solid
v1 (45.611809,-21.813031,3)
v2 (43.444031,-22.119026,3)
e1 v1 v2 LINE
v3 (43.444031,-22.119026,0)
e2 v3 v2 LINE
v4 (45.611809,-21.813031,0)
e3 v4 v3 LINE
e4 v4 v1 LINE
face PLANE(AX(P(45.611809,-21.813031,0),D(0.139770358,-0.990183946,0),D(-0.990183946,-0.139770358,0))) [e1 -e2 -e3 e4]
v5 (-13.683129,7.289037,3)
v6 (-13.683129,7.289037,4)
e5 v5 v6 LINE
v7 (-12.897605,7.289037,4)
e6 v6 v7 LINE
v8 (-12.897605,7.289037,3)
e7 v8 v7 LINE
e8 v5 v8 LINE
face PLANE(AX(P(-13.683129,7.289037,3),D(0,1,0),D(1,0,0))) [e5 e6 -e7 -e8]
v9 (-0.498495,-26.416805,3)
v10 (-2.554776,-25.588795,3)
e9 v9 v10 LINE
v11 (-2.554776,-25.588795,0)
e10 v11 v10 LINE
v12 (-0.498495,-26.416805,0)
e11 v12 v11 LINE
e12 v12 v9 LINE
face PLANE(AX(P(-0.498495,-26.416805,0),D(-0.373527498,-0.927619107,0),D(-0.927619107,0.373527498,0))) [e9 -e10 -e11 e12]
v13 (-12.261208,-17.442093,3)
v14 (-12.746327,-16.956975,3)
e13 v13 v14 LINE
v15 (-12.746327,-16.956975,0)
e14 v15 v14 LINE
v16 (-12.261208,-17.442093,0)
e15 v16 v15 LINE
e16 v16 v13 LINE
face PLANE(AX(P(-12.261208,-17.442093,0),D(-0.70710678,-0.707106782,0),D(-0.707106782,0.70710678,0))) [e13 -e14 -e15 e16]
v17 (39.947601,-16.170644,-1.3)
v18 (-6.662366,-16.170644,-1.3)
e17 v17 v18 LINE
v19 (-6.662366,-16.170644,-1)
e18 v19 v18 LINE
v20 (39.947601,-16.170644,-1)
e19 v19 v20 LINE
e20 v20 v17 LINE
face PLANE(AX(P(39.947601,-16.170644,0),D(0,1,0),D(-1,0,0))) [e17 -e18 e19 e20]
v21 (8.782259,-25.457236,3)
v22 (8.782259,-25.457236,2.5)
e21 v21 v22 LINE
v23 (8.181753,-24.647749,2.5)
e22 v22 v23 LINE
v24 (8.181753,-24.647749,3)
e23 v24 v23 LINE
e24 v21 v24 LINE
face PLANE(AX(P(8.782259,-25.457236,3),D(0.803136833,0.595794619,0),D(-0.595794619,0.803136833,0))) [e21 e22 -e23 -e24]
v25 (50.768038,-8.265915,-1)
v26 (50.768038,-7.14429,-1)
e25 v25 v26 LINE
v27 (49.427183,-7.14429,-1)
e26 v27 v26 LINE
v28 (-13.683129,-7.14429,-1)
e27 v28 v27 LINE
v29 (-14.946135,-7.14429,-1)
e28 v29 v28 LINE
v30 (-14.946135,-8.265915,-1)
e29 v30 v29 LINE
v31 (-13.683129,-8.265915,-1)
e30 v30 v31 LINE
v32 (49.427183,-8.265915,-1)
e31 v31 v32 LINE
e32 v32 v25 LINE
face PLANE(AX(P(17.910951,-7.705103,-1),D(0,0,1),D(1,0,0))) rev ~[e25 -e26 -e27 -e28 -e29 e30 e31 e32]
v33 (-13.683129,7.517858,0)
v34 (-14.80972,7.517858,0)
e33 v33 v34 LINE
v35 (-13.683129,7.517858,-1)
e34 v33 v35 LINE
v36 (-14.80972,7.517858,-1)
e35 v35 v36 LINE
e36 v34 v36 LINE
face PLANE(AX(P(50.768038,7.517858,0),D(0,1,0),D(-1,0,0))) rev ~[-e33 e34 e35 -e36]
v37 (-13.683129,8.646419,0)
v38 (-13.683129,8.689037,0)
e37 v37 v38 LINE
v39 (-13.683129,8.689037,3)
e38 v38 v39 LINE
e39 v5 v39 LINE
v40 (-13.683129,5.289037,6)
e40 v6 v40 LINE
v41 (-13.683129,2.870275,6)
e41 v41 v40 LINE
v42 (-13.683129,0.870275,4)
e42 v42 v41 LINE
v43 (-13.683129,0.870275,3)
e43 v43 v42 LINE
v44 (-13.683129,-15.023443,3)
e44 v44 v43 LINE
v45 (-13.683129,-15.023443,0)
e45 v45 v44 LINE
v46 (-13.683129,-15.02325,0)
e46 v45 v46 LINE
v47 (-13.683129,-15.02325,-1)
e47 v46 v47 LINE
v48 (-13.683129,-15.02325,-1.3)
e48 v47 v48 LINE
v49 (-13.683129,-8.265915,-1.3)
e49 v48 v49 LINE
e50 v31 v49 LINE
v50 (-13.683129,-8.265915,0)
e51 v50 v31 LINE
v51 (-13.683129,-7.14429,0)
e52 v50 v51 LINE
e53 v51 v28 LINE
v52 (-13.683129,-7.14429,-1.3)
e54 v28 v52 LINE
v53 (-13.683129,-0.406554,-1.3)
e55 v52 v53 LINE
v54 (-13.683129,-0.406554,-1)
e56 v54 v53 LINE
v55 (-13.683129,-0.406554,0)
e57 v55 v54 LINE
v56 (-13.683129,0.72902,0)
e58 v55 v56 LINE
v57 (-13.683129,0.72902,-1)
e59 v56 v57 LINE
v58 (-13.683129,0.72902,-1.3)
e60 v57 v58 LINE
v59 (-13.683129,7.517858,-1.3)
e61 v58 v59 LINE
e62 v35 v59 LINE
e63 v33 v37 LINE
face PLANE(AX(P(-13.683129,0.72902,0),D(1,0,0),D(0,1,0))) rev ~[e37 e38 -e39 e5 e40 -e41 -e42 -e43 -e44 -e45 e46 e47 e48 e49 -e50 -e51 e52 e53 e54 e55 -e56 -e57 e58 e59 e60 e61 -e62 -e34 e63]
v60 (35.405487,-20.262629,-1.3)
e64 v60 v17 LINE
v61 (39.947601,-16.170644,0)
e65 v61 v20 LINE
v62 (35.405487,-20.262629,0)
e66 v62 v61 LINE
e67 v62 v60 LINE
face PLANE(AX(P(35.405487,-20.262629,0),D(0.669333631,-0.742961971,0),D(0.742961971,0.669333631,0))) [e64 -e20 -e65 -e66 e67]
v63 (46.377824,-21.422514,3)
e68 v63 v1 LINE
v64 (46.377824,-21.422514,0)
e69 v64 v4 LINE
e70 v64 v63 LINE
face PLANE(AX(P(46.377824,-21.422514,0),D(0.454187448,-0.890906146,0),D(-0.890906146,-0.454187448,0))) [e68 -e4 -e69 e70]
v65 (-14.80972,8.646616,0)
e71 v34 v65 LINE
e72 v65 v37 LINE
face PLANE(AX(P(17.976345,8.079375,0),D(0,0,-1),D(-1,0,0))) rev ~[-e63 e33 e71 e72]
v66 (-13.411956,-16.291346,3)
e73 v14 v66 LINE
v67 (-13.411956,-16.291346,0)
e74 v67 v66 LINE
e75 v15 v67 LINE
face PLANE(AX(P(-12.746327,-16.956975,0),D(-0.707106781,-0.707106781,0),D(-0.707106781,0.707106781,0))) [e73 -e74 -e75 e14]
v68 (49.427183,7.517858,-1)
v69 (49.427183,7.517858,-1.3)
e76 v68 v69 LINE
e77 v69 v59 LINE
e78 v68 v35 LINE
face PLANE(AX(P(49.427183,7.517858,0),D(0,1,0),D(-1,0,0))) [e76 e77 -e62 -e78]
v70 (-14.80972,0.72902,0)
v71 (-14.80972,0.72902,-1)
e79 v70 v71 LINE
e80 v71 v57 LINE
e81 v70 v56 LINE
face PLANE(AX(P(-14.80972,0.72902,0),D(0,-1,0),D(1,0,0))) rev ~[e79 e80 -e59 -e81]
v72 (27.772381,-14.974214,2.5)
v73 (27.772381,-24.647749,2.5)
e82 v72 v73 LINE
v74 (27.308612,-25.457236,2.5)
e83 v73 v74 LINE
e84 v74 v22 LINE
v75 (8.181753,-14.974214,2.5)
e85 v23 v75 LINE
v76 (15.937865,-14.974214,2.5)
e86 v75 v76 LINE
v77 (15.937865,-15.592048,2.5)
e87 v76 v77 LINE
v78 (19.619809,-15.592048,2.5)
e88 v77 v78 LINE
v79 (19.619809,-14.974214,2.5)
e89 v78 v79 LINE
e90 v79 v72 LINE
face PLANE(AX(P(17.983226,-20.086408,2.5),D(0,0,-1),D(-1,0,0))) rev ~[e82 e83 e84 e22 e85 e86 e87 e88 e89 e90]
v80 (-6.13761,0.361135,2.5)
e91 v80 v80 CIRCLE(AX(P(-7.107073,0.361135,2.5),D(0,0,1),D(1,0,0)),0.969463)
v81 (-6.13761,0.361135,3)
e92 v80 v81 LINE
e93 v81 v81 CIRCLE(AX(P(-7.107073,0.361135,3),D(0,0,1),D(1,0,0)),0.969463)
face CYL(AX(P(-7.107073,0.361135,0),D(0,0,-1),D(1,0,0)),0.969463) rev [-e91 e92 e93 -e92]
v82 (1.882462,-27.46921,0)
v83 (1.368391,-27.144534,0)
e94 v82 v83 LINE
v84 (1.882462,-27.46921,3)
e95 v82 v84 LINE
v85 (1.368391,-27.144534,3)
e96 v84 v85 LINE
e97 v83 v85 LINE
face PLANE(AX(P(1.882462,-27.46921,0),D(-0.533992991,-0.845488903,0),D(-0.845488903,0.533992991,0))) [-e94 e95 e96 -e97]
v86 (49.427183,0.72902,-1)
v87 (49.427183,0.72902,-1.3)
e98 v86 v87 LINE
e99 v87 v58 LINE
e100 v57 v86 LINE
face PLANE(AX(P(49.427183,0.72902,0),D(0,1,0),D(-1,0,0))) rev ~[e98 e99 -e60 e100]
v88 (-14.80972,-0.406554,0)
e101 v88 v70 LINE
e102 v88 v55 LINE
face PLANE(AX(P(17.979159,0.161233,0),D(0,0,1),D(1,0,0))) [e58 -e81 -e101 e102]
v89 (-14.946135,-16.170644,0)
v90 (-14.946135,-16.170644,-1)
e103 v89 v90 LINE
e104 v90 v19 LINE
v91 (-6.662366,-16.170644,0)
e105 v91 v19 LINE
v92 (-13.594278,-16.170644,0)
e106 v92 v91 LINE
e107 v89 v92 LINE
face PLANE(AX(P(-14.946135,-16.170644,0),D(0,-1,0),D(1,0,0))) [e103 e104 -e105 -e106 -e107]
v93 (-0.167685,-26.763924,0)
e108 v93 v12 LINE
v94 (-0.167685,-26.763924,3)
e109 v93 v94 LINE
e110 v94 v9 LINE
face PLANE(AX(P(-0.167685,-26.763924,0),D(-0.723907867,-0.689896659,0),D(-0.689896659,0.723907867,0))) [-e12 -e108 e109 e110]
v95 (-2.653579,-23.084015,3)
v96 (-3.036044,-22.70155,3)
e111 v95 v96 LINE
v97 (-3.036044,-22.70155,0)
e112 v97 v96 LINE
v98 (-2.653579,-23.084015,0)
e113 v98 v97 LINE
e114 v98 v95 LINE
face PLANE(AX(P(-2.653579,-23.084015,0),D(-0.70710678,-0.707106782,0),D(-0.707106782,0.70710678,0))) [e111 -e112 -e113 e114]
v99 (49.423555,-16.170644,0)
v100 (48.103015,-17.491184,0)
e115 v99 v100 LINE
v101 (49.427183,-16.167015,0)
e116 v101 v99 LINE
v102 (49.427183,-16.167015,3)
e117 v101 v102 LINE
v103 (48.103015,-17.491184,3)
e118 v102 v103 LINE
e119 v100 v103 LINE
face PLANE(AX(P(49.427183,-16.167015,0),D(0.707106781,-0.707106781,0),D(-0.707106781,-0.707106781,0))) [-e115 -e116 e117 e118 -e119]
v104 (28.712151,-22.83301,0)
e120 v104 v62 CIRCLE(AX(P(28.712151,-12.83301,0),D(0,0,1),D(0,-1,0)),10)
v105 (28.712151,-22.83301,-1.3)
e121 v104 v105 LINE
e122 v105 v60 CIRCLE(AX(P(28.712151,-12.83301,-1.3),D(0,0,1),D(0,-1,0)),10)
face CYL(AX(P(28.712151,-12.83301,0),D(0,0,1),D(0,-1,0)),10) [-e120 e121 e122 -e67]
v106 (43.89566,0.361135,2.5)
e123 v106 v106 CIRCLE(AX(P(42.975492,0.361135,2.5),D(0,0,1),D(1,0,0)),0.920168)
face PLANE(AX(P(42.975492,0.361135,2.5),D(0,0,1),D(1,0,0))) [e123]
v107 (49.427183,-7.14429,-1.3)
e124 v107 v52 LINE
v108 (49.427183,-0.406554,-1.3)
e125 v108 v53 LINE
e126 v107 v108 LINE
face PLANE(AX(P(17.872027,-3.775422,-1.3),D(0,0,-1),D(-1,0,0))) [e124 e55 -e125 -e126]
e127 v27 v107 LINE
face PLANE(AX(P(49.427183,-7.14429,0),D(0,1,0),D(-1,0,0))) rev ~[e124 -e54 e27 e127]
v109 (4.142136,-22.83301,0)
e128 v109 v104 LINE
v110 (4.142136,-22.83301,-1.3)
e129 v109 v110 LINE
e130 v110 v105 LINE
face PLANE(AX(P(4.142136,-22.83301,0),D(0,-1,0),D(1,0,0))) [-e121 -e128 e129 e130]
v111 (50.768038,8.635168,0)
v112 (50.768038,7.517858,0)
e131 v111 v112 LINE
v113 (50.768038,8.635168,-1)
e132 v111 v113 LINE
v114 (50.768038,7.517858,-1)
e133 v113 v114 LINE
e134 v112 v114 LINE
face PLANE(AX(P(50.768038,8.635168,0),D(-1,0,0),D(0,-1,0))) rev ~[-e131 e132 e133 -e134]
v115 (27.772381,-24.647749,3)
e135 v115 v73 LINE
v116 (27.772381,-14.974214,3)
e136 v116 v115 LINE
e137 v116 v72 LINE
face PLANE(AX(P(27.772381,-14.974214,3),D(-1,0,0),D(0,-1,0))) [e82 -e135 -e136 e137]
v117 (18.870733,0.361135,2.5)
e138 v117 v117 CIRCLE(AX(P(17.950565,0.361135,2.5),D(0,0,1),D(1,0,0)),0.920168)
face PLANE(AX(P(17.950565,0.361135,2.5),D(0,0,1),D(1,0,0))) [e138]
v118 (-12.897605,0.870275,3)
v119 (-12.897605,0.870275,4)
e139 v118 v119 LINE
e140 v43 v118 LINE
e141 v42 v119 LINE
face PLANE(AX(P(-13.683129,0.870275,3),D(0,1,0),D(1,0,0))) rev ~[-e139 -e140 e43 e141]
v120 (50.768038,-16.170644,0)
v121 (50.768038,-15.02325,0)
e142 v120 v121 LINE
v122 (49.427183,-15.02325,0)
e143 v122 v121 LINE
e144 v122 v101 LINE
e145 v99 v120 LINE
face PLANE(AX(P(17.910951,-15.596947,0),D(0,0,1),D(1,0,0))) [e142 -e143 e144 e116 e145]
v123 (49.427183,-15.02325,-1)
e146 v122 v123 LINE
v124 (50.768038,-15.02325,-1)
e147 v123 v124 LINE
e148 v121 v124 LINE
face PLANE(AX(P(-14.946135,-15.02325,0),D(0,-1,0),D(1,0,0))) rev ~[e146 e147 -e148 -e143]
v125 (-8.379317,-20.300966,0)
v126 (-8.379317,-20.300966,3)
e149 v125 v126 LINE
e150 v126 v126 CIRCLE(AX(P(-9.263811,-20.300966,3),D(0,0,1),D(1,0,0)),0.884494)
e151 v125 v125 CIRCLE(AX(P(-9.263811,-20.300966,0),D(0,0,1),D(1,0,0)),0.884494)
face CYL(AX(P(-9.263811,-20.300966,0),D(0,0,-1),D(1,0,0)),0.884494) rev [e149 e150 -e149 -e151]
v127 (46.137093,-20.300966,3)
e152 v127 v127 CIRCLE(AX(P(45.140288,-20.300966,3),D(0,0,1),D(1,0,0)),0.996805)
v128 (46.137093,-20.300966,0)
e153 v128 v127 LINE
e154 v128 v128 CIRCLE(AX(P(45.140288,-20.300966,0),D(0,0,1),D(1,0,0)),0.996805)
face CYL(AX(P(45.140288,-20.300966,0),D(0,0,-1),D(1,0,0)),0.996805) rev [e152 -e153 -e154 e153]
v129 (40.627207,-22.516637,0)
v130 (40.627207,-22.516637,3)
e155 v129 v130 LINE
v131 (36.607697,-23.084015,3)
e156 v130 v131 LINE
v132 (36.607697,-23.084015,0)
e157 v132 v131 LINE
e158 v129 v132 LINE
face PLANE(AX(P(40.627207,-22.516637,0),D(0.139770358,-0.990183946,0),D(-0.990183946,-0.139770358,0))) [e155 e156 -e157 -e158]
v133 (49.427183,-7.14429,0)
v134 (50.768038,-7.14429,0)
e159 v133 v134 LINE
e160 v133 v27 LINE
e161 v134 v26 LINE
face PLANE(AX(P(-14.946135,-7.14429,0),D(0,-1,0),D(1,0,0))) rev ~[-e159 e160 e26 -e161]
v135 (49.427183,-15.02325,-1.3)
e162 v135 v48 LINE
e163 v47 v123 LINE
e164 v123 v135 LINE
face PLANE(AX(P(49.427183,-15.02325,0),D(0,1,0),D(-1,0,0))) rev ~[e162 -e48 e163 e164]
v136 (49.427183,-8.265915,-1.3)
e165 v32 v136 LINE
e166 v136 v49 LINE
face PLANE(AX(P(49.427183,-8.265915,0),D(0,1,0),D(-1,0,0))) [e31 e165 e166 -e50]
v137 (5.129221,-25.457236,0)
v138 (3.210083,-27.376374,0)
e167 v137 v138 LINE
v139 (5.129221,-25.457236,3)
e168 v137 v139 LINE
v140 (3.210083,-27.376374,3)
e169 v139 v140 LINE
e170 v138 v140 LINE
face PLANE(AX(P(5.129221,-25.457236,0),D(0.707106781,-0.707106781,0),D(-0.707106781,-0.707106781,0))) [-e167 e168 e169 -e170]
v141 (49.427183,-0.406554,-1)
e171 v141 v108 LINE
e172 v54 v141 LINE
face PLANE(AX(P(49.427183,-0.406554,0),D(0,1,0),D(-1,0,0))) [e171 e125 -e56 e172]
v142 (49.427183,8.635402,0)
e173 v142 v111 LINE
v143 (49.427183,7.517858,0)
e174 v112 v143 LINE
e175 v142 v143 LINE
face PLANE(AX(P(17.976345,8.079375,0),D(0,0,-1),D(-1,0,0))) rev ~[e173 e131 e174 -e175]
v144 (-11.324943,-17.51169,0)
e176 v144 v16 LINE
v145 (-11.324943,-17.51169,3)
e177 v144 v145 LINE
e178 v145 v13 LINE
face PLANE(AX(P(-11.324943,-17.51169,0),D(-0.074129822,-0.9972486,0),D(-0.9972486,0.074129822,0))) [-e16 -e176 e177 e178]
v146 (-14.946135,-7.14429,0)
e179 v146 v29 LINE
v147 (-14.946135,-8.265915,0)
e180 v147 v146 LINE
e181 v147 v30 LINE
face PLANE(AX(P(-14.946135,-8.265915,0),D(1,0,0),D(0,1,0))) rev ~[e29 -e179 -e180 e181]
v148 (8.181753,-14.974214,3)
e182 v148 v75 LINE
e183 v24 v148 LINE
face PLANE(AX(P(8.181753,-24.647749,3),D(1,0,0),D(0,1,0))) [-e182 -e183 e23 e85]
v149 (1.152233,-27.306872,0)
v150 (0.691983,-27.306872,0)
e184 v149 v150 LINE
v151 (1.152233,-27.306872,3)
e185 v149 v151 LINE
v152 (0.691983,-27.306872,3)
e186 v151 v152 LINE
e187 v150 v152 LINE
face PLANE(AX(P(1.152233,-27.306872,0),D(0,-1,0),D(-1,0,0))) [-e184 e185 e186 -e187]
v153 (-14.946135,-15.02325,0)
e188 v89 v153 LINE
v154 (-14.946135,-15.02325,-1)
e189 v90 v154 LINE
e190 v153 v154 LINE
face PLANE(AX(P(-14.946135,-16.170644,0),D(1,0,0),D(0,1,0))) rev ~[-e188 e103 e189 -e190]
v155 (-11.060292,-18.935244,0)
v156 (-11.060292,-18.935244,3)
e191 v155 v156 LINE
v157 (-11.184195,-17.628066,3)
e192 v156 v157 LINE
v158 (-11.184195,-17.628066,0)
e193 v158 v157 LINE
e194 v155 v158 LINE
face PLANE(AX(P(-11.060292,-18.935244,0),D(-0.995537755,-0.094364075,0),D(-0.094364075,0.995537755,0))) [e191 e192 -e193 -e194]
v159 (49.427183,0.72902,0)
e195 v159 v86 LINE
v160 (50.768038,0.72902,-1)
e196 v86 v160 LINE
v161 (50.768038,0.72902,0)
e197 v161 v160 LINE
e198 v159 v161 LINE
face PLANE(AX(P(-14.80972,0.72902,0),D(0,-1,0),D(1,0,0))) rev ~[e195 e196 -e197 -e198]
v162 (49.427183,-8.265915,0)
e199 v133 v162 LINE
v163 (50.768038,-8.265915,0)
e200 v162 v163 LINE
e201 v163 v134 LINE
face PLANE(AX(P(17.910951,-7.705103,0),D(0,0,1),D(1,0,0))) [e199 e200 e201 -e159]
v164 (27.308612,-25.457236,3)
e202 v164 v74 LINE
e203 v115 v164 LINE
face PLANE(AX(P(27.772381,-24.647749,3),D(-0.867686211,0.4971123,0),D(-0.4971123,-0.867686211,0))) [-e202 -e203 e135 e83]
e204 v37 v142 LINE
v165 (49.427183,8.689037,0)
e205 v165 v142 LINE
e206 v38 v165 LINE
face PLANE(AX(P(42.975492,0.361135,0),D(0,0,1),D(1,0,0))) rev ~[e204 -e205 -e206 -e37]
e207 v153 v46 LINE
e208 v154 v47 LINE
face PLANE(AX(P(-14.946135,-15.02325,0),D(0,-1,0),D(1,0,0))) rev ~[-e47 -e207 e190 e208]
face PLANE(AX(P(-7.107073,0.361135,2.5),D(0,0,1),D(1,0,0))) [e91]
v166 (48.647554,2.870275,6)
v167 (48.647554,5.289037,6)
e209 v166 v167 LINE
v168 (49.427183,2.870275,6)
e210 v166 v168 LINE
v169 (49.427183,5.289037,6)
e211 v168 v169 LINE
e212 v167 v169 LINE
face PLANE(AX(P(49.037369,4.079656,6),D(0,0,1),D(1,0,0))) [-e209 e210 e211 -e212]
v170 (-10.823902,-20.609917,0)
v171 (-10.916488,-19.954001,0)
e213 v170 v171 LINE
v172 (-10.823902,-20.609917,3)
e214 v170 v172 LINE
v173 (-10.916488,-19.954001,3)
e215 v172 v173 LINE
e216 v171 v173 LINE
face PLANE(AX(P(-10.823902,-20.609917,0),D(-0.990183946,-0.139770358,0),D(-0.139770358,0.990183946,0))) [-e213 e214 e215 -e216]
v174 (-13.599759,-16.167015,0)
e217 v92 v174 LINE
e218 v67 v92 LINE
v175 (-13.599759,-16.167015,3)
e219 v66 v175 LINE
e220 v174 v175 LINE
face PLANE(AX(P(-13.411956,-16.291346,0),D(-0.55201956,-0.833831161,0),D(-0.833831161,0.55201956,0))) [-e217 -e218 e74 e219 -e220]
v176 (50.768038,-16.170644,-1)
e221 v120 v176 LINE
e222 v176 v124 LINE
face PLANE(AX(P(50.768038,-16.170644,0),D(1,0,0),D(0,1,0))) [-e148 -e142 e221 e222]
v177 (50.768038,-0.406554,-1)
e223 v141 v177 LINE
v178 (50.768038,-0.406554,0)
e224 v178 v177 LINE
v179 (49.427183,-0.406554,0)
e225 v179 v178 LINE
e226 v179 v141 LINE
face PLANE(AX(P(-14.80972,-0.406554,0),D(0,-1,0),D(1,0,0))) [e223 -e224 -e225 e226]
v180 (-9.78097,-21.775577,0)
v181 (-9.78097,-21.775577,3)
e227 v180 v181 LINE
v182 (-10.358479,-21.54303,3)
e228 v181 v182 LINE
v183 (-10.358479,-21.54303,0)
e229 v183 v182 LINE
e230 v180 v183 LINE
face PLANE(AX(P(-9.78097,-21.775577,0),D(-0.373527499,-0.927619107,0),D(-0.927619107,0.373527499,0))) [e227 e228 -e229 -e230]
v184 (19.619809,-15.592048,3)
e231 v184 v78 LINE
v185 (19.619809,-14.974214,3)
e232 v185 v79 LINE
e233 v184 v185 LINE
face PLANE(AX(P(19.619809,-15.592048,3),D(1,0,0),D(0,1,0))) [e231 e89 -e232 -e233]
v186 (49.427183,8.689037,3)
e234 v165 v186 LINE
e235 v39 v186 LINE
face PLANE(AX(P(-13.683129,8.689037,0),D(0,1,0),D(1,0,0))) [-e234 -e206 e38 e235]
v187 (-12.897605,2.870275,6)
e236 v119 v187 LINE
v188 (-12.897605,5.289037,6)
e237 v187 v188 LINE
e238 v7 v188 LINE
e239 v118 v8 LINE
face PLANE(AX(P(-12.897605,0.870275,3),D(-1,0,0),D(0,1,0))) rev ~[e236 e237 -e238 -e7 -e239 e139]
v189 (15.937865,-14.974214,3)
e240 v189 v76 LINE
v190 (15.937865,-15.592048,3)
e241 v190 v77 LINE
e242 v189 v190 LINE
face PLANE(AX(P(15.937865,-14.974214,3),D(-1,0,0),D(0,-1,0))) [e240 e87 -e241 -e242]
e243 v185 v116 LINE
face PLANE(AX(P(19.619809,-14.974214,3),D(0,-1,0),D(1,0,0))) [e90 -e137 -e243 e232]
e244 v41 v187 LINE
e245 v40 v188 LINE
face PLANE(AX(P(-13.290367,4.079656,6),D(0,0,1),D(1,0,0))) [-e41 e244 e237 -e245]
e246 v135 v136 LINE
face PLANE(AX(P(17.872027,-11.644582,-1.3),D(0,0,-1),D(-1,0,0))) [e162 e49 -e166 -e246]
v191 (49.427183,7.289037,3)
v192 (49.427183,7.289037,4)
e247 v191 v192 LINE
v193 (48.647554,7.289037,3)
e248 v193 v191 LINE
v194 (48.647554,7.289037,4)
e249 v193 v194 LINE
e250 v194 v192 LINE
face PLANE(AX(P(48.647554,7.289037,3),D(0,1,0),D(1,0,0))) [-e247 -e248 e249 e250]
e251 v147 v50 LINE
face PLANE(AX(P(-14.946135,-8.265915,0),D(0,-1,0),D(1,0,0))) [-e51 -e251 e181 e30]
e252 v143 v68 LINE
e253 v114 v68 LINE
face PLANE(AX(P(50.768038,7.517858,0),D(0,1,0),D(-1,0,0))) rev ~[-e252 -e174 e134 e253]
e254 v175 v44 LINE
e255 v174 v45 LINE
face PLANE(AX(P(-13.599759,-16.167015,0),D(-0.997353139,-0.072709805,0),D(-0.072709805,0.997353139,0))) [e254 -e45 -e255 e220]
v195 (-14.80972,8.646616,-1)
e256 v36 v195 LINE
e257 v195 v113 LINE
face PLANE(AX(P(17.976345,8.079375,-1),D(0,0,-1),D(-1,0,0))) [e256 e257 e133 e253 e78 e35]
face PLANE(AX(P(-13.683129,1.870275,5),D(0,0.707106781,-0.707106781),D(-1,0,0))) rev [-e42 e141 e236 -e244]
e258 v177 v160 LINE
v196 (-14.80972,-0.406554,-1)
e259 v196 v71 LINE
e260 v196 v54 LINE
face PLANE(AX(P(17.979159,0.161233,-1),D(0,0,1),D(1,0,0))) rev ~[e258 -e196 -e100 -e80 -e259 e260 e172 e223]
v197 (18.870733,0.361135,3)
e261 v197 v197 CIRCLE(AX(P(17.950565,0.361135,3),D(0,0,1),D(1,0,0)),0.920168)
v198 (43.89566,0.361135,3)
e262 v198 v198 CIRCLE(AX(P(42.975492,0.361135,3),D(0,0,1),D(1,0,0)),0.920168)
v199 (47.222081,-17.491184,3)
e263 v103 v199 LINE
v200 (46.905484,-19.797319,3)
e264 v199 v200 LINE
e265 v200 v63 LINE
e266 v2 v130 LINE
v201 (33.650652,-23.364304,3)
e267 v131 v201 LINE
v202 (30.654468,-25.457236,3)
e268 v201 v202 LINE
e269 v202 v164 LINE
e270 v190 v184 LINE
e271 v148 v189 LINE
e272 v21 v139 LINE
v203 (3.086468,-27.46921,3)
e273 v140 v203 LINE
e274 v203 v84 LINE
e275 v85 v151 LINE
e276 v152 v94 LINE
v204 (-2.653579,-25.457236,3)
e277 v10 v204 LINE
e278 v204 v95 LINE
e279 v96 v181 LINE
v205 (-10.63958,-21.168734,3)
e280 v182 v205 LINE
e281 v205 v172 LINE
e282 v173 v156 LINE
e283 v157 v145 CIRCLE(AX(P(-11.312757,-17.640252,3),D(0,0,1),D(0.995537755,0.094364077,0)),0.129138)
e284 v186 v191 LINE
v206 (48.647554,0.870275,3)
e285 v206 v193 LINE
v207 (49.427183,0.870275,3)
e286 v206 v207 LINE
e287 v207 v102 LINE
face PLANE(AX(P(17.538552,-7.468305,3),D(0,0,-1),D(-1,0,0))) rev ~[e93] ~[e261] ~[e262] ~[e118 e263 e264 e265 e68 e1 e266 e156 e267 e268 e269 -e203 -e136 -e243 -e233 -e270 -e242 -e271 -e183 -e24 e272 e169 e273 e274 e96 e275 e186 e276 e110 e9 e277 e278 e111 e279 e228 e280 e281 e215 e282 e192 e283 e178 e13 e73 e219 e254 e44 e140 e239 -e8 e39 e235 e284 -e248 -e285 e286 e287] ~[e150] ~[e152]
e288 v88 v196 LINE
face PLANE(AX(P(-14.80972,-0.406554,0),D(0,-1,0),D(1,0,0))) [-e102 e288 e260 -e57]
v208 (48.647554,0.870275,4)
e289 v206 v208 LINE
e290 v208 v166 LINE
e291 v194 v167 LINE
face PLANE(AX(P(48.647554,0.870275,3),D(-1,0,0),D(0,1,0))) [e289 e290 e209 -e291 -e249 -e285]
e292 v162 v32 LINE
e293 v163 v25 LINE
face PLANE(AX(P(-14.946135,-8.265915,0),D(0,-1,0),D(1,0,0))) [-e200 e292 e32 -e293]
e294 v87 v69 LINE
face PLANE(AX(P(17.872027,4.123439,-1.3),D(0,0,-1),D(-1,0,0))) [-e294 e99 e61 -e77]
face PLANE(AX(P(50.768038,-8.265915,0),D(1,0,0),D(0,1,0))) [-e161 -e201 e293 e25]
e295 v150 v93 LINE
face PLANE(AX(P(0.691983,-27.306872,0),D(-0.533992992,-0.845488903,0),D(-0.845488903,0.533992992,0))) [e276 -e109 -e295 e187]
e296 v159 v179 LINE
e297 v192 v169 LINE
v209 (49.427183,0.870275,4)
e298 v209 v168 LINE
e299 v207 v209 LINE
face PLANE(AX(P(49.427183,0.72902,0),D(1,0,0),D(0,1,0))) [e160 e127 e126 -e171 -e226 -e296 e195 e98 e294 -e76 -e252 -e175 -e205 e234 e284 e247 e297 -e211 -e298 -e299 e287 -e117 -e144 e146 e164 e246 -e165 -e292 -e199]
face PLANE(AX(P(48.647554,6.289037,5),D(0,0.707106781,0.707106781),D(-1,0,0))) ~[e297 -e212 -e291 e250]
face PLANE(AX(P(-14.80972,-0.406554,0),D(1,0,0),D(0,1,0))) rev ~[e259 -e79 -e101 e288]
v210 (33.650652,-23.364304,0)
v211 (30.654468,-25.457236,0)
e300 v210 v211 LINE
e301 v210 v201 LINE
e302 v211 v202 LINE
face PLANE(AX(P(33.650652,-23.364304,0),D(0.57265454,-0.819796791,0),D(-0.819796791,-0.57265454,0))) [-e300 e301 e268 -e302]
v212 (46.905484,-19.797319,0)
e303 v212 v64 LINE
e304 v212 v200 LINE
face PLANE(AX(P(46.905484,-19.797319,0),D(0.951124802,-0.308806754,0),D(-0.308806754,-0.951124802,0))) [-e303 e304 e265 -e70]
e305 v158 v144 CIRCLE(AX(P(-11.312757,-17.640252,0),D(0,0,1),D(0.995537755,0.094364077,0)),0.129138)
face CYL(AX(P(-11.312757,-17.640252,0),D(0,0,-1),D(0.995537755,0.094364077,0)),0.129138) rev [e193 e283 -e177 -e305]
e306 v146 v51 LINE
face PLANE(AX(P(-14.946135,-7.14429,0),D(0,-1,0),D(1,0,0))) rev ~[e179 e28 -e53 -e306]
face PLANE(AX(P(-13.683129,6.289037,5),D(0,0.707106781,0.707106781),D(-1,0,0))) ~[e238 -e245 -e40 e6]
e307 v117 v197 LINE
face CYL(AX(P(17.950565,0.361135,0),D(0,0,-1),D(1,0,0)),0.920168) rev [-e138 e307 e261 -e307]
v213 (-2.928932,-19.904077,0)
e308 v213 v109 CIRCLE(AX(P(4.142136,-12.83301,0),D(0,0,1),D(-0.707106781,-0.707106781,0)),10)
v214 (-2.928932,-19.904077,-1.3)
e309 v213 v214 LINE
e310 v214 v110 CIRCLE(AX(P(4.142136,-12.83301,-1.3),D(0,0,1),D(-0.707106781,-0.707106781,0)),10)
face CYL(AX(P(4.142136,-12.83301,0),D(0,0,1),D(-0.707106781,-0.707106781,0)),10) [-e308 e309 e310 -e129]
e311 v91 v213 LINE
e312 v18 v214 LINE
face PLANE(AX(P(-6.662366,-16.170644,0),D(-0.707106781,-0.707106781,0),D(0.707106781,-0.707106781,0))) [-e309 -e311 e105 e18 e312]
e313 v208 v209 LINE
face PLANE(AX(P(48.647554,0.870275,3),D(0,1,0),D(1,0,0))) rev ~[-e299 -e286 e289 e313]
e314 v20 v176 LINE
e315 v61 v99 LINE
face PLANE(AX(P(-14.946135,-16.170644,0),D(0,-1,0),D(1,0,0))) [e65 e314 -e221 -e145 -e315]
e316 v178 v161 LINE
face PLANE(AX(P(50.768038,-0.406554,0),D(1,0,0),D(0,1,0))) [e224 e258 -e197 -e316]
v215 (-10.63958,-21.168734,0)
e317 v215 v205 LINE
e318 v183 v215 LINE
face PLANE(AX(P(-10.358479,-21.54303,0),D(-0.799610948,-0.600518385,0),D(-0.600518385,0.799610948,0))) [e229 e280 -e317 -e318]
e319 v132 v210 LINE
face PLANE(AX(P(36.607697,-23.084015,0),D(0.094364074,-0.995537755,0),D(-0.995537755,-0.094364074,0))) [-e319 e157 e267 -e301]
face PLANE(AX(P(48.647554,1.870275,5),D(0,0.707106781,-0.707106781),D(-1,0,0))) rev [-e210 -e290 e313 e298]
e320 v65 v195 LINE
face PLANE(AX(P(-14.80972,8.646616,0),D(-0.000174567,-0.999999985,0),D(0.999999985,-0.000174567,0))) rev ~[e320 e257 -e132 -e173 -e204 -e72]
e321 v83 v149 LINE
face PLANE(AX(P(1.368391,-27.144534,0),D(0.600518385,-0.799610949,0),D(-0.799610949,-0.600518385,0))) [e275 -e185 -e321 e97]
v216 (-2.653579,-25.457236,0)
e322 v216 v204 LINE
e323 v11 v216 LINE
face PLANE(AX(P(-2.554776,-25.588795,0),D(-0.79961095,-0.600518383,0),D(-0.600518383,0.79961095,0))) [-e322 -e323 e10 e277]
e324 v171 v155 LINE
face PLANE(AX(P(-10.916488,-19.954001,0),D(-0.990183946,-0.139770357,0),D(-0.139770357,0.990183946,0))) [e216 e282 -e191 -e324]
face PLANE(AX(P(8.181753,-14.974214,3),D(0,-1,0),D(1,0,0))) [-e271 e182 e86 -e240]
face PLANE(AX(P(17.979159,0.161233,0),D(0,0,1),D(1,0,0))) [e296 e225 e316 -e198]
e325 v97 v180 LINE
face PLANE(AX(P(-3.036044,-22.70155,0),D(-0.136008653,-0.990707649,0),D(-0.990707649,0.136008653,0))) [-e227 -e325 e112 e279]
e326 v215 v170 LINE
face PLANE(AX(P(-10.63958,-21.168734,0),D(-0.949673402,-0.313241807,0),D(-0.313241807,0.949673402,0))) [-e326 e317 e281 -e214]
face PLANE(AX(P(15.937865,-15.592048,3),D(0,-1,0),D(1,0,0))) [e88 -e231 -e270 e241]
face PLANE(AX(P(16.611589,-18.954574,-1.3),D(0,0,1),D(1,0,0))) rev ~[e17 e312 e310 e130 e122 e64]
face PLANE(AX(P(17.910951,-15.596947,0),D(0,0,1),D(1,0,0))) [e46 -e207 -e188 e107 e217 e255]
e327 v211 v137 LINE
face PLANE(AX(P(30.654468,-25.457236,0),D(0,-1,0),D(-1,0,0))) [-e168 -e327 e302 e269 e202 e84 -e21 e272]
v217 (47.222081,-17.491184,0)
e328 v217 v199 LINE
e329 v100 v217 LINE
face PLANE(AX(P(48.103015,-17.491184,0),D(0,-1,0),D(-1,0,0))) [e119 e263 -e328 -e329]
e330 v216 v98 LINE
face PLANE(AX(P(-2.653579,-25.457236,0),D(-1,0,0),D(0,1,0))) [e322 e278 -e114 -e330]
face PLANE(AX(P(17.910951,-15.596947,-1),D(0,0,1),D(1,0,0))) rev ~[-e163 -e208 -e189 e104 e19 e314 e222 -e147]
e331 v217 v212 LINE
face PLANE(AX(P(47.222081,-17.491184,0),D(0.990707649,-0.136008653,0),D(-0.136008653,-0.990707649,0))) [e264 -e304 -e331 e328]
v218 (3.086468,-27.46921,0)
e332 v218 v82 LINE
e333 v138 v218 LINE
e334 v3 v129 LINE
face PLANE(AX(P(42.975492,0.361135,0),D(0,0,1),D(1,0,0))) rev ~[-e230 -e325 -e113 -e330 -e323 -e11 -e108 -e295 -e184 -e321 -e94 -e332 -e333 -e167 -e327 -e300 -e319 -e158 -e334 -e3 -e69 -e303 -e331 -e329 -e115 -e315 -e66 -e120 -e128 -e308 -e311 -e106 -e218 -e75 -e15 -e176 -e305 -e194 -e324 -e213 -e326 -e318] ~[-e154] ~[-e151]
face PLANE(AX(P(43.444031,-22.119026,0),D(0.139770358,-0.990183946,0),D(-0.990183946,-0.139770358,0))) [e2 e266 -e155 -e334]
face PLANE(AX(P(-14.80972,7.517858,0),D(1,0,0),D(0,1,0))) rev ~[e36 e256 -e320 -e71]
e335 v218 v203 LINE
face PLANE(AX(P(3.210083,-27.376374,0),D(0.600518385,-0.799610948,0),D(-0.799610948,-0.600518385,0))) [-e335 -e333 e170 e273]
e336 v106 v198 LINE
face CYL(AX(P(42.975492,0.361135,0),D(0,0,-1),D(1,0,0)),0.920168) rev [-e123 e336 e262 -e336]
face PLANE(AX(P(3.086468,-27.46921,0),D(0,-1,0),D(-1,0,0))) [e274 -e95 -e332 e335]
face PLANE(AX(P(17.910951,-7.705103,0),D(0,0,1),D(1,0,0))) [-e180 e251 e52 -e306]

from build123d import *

# Parameters (mm, degrees)
CONTOURS_R              = 0.996805003
CONTOURS_R_2            = 0.884493699
CONTOURS_R_3            = 0.969462683
CONTOURS_R_4            = 0.92016771
BOSS_EXTRU_1_DEPTH      = 3
ENL_V_MAT_EXTRU_3_DEPTH = 0.5
ESQUISSE6_R             = 0.92016771
ESQUISSE6_R_2           = 0.969462683
BOSS_EXTRU_2_DEPTH      = 2.5
ESQUISSE7_W             = 65.577757284
ESQUISSE7_H             = 1.135573616
ESQUISSE7_W_2           = 65.714172828
ESQUISSE7_H_2           = 1.121624069
ESQUISSE7_H_3           = 1.147393865
BOSS_EXTRU_3_DEPTH      = 1
ESQUISSE8_W             = 63.110312129
ESQUISSE8_H             = 6.788838012
ESQUISSE8_H_2           = 6.737736788
ESQUISSE8_H_3           = 6.757335266
BOSS_EXTRU_4_DEPTH      = 1.3
ESQUISSE12_W            = 0.779629517
ESQUISSE12_H            = 6.41876269
ESQUISSE12_W_2          = 0.785524209
BOSS_EXTRU_6_DEPTH      = 3
CHANFREIN1_SIZE         = 2
CHANFREIN2_SIZE         = 2


with BuildPart() as part:
    # Contours → Boss.-Extru.1 (new body)
    with BuildSketch(Plane.XY):
        with BuildLine():
            Line((-13.53709508, 8.689037277), (49.427183341, 8.689037277))
            Line((49.427183341, 8.689037277), (49.427183341, -15.576035195))
            Line((49.427183341, -15.576035195), (49.427183341, -16.167014971))
            Line((49.427183341, -16.167014971), (48.103014513, -17.491183799))
            Line((48.103014513, -17.491183799), (47.222080517, -17.491183799))
            Line((47.222080517, -17.491183799), (46.905484209, -19.797319309))
            Line((46.905484209, -19.797319309), (46.377823694, -21.422513692))
            Line((46.377823694, -21.422513692), (45.61180941, -21.813030779))
            Line((45.61180941, -21.813030779), (43.444031236, -22.119025571))
            Line((43.444031236, -22.119025571), (40.627206664, -22.516637126))
            Line((40.627206664, -22.516637126), (36.607696599, -23.084014896))
            Line((36.607696599, -23.084014896), (33.650652093, -23.364304384))
            Line((33.650652093, -23.364304384), (30.65446793, -25.457235805))
            Line((30.65446793, -25.457235805), (5.129220902, -25.457235805))
            Line((5.129220902, -25.457235805), (3.210082619, -27.376374088))
            Line((3.210082619, -27.376374088), (3.086468117, -27.469210212))
            Line((3.086468117, -27.469210212), (1.882461508, -27.469210212))
            Line((1.882461508, -27.469210212), (1.368391271, -27.144534273))
            Line((1.368391271, -27.144534273), (1.152232663, -27.306872243))
            Line((1.152232663, -27.306872243), (0.691983064, -27.306872243))
            Line((0.691983064, -27.306872243), (-0.167684887, -26.763924063))
            Line((-0.167684887, -26.763924063), (-0.49849538, -26.416804947))
            Line((-0.49849538, -26.416804947), (-2.55477633, -25.588795397))
            Line((-2.55477633, -25.588795397), (-2.653579321, -25.457235805))
            Line((-2.653579321, -25.457235805), (-2.653579321, -23.084014896))
            Line((-2.653579321, -23.084014896), (-3.036044011, -22.701550207))
            Line((-3.036044011, -22.701550207), (-9.780970444, -21.775577383))
            Line((-9.780970444, -21.775577383), (-10.358479282, -21.543029961))
            Line((-10.358479282, -21.543029961), (-10.639580473, -21.168734027))
            Line((-10.639580473, -21.168734027), (-10.823901747, -20.609916501))
            Line((-10.823901747, -20.609916501), (-10.916488176, -19.954000633))
            Line((-10.916488176, -19.954000633), (-11.060291782, -18.935243689))
            Line((-11.060291782, -18.935243689), (-11.184195314, -17.628065669))
            ThreePointArc((-11.184195314, -17.628065669), (-11.230466887, -17.54072814), (-11.324942788, -17.511690124))
            Line((-11.324942788, -17.511690124), (-12.261208369, -17.442093435))
            Line((-12.261208369, -17.442093435), (-12.746327303, -16.956974502))
            Line((-12.746327303, -16.956974502), (-13.411955607, -16.291346198))
            Line((-13.411955607, -16.291346198), (-13.59975919, -16.167014971))
            Line((-13.59975919, -16.167014971), (-13.683128788, -15.023442521))
            Line((-13.683128788, -15.023442521), (-13.683128788, 8.689037277))
            Line((-13.683128788, 8.689037277), (-13.53709508, 8.689037277))
        make_face()
        with Locations((45.140288013, -20.300965513)):
            Circle(CONTOURS_R, mode=Mode.SUBTRACT)
        with Locations((-9.263810849, -20.300965513)):
            Circle(CONTOURS_R_2, mode=Mode.SUBTRACT)
        with Locations((-7.107072771, 0.361135268)):
            Circle(CONTOURS_R_3, mode=Mode.SUBTRACT)
        with Locations((17.950565341, 0.361135268)):
            Circle(CONTOURS_R_4, mode=Mode.SUBTRACT)
        with Locations((42.975492251, 0.361135268)):
            Circle(CONTOURS_R_4, mode=Mode.SUBTRACT)
    extrude(amount=BOSS_EXTRU_1_DEPTH)

    # Esquisse5 → Enlèv. mat.-Extru.3 (cut)
    with BuildSketch(Plane.XY.offset(3)):
        Polygon((8.181753212, -14.974213956), (15.937864767, -14.974213956), (15.937864767, -15.592047706), (19.619809184, -15.592047706), (19.619809184, -14.974213956), (27.772380941, -14.974213956), (27.772380941, -24.647748669), (27.308611889, -25.457235805), (8.782258705, -25.457235805), (8.181753212, -24.647748669), align=None)
    extrude(amount=-ENL_V_MAT_EXTRU_3_DEPTH, mode=Mode.SUBTRACT)

    # Esquisse6 → Boss.-Extru.2 (add)
    with BuildSketch(Plane.XY):
        with Locations((42.975492251, 0.361135268)):
            Circle(ESQUISSE6_R)
        with Locations((17.950565341, 0.361135268)):
            Circle(ESQUISSE6_R)
        with Locations((-7.107072771, 0.361135268)):
            Circle(ESQUISSE6_R_2)
    extrude(amount=BOSS_EXTRU_2_DEPTH)

    # Esquisse7 → Boss.-Extru.3 (add)
    with BuildSketch(Plane.XY):
        Polygon((-14.80971951, 8.646615937), (50.768037774, 8.635168208), (50.768037774, 7.517857947), (-14.80971951, 7.517857947), align=None)
        with Locations((17.979159132, 0.161233127)):
            Rectangle(ESQUISSE7_W, ESQUISSE7_H)
        with Locations((17.91095136, -7.705102504)):
            Rectangle(ESQUISSE7_W_2, ESQUISSE7_H_2)
        with Locations((17.91095136, -15.596946737)):
            Rectangle(ESQUISSE7_W_2, ESQUISSE7_H_3)
    extrude(amount=-BOSS_EXTRU_3_DEPTH)

    # Esquisse8 → Boss.-Extru.4 (add)
    with BuildSketch(Plane(origin=(0, 0, 0), x_dir=(-1, 0, 0), z_dir=(0, 0, -1))):
        with Locations((-17.872027276, 4.123438941)):
            Rectangle(ESQUISSE8_W, ESQUISSE8_H)
        with Locations((-17.872027276, -3.775422075)):
            Rectangle(ESQUISSE8_W, ESQUISSE8_H_2)
        with Locations((-17.872027276, -11.644582171)):
            Rectangle(ESQUISSE8_W, ESQUISSE8_H_3)
        with BuildLine():
            Line((-39.947601393, -16.170643669), (3.467572619, -16.170643669))
            Line((3.467572619, -16.170643669), (6.662365967, -16.170643669))
            Line((6.662365967, -16.170643669), (2.928932188, -19.904077448))
            ThreePointArc((2.928932188, -19.904077448), (-0.3153013, -22.071804962), (-4.142135624, -22.833009637))
            Line((-4.142135624, -22.833009637), (-28.712150945, -22.833009637))
            ThreePointArc((-28.712150945, -22.833009637), (-32.297105816, -22.168324231), (-35.405487251, -20.262629351))
            Line((-35.405487251, -20.262629351), (-39.947601393, -16.170643669))
        make_face()
    extrude(amount=BOSS_EXTRU_4_DEPTH)

    # Esquisse12 → Boss.-Extru.6 (add)
    with BuildSketch(Plane.XY.offset(3)):
        with Locations((49.037368583, 4.079655932)):
            Rectangle(ESQUISSE12_W, ESQUISSE12_H)
        with Locations((-13.290366684, 4.079655932)):
            Rectangle(ESQUISSE12_W_2, ESQUISSE12_H)
    extrude(amount=BOSS_EXTRU_6_DEPTH)

    # Chanfrein1
    chanfrein1_edges = [part.edges().sort_by_distance(p)[0] for p in [
        (49.037368582, 7.289037277, 6),
        (49.037368582, 0.870274587, 6),
    ]]
    chamfer(chanfrein1_edges, length=CHANFREIN1_SIZE)

    # Chanfrein2
    chanfrein2_edges = [part.edges().sort_by_distance(p)[0] for p in [
        (-13.290366684, 7.289037277, 6),
        (-13.290366684, 0.870274587, 6),
    ]]
    chamfer(chanfrein2_edges, length=CHANFREIN2_SIZE)


solid = part.part
